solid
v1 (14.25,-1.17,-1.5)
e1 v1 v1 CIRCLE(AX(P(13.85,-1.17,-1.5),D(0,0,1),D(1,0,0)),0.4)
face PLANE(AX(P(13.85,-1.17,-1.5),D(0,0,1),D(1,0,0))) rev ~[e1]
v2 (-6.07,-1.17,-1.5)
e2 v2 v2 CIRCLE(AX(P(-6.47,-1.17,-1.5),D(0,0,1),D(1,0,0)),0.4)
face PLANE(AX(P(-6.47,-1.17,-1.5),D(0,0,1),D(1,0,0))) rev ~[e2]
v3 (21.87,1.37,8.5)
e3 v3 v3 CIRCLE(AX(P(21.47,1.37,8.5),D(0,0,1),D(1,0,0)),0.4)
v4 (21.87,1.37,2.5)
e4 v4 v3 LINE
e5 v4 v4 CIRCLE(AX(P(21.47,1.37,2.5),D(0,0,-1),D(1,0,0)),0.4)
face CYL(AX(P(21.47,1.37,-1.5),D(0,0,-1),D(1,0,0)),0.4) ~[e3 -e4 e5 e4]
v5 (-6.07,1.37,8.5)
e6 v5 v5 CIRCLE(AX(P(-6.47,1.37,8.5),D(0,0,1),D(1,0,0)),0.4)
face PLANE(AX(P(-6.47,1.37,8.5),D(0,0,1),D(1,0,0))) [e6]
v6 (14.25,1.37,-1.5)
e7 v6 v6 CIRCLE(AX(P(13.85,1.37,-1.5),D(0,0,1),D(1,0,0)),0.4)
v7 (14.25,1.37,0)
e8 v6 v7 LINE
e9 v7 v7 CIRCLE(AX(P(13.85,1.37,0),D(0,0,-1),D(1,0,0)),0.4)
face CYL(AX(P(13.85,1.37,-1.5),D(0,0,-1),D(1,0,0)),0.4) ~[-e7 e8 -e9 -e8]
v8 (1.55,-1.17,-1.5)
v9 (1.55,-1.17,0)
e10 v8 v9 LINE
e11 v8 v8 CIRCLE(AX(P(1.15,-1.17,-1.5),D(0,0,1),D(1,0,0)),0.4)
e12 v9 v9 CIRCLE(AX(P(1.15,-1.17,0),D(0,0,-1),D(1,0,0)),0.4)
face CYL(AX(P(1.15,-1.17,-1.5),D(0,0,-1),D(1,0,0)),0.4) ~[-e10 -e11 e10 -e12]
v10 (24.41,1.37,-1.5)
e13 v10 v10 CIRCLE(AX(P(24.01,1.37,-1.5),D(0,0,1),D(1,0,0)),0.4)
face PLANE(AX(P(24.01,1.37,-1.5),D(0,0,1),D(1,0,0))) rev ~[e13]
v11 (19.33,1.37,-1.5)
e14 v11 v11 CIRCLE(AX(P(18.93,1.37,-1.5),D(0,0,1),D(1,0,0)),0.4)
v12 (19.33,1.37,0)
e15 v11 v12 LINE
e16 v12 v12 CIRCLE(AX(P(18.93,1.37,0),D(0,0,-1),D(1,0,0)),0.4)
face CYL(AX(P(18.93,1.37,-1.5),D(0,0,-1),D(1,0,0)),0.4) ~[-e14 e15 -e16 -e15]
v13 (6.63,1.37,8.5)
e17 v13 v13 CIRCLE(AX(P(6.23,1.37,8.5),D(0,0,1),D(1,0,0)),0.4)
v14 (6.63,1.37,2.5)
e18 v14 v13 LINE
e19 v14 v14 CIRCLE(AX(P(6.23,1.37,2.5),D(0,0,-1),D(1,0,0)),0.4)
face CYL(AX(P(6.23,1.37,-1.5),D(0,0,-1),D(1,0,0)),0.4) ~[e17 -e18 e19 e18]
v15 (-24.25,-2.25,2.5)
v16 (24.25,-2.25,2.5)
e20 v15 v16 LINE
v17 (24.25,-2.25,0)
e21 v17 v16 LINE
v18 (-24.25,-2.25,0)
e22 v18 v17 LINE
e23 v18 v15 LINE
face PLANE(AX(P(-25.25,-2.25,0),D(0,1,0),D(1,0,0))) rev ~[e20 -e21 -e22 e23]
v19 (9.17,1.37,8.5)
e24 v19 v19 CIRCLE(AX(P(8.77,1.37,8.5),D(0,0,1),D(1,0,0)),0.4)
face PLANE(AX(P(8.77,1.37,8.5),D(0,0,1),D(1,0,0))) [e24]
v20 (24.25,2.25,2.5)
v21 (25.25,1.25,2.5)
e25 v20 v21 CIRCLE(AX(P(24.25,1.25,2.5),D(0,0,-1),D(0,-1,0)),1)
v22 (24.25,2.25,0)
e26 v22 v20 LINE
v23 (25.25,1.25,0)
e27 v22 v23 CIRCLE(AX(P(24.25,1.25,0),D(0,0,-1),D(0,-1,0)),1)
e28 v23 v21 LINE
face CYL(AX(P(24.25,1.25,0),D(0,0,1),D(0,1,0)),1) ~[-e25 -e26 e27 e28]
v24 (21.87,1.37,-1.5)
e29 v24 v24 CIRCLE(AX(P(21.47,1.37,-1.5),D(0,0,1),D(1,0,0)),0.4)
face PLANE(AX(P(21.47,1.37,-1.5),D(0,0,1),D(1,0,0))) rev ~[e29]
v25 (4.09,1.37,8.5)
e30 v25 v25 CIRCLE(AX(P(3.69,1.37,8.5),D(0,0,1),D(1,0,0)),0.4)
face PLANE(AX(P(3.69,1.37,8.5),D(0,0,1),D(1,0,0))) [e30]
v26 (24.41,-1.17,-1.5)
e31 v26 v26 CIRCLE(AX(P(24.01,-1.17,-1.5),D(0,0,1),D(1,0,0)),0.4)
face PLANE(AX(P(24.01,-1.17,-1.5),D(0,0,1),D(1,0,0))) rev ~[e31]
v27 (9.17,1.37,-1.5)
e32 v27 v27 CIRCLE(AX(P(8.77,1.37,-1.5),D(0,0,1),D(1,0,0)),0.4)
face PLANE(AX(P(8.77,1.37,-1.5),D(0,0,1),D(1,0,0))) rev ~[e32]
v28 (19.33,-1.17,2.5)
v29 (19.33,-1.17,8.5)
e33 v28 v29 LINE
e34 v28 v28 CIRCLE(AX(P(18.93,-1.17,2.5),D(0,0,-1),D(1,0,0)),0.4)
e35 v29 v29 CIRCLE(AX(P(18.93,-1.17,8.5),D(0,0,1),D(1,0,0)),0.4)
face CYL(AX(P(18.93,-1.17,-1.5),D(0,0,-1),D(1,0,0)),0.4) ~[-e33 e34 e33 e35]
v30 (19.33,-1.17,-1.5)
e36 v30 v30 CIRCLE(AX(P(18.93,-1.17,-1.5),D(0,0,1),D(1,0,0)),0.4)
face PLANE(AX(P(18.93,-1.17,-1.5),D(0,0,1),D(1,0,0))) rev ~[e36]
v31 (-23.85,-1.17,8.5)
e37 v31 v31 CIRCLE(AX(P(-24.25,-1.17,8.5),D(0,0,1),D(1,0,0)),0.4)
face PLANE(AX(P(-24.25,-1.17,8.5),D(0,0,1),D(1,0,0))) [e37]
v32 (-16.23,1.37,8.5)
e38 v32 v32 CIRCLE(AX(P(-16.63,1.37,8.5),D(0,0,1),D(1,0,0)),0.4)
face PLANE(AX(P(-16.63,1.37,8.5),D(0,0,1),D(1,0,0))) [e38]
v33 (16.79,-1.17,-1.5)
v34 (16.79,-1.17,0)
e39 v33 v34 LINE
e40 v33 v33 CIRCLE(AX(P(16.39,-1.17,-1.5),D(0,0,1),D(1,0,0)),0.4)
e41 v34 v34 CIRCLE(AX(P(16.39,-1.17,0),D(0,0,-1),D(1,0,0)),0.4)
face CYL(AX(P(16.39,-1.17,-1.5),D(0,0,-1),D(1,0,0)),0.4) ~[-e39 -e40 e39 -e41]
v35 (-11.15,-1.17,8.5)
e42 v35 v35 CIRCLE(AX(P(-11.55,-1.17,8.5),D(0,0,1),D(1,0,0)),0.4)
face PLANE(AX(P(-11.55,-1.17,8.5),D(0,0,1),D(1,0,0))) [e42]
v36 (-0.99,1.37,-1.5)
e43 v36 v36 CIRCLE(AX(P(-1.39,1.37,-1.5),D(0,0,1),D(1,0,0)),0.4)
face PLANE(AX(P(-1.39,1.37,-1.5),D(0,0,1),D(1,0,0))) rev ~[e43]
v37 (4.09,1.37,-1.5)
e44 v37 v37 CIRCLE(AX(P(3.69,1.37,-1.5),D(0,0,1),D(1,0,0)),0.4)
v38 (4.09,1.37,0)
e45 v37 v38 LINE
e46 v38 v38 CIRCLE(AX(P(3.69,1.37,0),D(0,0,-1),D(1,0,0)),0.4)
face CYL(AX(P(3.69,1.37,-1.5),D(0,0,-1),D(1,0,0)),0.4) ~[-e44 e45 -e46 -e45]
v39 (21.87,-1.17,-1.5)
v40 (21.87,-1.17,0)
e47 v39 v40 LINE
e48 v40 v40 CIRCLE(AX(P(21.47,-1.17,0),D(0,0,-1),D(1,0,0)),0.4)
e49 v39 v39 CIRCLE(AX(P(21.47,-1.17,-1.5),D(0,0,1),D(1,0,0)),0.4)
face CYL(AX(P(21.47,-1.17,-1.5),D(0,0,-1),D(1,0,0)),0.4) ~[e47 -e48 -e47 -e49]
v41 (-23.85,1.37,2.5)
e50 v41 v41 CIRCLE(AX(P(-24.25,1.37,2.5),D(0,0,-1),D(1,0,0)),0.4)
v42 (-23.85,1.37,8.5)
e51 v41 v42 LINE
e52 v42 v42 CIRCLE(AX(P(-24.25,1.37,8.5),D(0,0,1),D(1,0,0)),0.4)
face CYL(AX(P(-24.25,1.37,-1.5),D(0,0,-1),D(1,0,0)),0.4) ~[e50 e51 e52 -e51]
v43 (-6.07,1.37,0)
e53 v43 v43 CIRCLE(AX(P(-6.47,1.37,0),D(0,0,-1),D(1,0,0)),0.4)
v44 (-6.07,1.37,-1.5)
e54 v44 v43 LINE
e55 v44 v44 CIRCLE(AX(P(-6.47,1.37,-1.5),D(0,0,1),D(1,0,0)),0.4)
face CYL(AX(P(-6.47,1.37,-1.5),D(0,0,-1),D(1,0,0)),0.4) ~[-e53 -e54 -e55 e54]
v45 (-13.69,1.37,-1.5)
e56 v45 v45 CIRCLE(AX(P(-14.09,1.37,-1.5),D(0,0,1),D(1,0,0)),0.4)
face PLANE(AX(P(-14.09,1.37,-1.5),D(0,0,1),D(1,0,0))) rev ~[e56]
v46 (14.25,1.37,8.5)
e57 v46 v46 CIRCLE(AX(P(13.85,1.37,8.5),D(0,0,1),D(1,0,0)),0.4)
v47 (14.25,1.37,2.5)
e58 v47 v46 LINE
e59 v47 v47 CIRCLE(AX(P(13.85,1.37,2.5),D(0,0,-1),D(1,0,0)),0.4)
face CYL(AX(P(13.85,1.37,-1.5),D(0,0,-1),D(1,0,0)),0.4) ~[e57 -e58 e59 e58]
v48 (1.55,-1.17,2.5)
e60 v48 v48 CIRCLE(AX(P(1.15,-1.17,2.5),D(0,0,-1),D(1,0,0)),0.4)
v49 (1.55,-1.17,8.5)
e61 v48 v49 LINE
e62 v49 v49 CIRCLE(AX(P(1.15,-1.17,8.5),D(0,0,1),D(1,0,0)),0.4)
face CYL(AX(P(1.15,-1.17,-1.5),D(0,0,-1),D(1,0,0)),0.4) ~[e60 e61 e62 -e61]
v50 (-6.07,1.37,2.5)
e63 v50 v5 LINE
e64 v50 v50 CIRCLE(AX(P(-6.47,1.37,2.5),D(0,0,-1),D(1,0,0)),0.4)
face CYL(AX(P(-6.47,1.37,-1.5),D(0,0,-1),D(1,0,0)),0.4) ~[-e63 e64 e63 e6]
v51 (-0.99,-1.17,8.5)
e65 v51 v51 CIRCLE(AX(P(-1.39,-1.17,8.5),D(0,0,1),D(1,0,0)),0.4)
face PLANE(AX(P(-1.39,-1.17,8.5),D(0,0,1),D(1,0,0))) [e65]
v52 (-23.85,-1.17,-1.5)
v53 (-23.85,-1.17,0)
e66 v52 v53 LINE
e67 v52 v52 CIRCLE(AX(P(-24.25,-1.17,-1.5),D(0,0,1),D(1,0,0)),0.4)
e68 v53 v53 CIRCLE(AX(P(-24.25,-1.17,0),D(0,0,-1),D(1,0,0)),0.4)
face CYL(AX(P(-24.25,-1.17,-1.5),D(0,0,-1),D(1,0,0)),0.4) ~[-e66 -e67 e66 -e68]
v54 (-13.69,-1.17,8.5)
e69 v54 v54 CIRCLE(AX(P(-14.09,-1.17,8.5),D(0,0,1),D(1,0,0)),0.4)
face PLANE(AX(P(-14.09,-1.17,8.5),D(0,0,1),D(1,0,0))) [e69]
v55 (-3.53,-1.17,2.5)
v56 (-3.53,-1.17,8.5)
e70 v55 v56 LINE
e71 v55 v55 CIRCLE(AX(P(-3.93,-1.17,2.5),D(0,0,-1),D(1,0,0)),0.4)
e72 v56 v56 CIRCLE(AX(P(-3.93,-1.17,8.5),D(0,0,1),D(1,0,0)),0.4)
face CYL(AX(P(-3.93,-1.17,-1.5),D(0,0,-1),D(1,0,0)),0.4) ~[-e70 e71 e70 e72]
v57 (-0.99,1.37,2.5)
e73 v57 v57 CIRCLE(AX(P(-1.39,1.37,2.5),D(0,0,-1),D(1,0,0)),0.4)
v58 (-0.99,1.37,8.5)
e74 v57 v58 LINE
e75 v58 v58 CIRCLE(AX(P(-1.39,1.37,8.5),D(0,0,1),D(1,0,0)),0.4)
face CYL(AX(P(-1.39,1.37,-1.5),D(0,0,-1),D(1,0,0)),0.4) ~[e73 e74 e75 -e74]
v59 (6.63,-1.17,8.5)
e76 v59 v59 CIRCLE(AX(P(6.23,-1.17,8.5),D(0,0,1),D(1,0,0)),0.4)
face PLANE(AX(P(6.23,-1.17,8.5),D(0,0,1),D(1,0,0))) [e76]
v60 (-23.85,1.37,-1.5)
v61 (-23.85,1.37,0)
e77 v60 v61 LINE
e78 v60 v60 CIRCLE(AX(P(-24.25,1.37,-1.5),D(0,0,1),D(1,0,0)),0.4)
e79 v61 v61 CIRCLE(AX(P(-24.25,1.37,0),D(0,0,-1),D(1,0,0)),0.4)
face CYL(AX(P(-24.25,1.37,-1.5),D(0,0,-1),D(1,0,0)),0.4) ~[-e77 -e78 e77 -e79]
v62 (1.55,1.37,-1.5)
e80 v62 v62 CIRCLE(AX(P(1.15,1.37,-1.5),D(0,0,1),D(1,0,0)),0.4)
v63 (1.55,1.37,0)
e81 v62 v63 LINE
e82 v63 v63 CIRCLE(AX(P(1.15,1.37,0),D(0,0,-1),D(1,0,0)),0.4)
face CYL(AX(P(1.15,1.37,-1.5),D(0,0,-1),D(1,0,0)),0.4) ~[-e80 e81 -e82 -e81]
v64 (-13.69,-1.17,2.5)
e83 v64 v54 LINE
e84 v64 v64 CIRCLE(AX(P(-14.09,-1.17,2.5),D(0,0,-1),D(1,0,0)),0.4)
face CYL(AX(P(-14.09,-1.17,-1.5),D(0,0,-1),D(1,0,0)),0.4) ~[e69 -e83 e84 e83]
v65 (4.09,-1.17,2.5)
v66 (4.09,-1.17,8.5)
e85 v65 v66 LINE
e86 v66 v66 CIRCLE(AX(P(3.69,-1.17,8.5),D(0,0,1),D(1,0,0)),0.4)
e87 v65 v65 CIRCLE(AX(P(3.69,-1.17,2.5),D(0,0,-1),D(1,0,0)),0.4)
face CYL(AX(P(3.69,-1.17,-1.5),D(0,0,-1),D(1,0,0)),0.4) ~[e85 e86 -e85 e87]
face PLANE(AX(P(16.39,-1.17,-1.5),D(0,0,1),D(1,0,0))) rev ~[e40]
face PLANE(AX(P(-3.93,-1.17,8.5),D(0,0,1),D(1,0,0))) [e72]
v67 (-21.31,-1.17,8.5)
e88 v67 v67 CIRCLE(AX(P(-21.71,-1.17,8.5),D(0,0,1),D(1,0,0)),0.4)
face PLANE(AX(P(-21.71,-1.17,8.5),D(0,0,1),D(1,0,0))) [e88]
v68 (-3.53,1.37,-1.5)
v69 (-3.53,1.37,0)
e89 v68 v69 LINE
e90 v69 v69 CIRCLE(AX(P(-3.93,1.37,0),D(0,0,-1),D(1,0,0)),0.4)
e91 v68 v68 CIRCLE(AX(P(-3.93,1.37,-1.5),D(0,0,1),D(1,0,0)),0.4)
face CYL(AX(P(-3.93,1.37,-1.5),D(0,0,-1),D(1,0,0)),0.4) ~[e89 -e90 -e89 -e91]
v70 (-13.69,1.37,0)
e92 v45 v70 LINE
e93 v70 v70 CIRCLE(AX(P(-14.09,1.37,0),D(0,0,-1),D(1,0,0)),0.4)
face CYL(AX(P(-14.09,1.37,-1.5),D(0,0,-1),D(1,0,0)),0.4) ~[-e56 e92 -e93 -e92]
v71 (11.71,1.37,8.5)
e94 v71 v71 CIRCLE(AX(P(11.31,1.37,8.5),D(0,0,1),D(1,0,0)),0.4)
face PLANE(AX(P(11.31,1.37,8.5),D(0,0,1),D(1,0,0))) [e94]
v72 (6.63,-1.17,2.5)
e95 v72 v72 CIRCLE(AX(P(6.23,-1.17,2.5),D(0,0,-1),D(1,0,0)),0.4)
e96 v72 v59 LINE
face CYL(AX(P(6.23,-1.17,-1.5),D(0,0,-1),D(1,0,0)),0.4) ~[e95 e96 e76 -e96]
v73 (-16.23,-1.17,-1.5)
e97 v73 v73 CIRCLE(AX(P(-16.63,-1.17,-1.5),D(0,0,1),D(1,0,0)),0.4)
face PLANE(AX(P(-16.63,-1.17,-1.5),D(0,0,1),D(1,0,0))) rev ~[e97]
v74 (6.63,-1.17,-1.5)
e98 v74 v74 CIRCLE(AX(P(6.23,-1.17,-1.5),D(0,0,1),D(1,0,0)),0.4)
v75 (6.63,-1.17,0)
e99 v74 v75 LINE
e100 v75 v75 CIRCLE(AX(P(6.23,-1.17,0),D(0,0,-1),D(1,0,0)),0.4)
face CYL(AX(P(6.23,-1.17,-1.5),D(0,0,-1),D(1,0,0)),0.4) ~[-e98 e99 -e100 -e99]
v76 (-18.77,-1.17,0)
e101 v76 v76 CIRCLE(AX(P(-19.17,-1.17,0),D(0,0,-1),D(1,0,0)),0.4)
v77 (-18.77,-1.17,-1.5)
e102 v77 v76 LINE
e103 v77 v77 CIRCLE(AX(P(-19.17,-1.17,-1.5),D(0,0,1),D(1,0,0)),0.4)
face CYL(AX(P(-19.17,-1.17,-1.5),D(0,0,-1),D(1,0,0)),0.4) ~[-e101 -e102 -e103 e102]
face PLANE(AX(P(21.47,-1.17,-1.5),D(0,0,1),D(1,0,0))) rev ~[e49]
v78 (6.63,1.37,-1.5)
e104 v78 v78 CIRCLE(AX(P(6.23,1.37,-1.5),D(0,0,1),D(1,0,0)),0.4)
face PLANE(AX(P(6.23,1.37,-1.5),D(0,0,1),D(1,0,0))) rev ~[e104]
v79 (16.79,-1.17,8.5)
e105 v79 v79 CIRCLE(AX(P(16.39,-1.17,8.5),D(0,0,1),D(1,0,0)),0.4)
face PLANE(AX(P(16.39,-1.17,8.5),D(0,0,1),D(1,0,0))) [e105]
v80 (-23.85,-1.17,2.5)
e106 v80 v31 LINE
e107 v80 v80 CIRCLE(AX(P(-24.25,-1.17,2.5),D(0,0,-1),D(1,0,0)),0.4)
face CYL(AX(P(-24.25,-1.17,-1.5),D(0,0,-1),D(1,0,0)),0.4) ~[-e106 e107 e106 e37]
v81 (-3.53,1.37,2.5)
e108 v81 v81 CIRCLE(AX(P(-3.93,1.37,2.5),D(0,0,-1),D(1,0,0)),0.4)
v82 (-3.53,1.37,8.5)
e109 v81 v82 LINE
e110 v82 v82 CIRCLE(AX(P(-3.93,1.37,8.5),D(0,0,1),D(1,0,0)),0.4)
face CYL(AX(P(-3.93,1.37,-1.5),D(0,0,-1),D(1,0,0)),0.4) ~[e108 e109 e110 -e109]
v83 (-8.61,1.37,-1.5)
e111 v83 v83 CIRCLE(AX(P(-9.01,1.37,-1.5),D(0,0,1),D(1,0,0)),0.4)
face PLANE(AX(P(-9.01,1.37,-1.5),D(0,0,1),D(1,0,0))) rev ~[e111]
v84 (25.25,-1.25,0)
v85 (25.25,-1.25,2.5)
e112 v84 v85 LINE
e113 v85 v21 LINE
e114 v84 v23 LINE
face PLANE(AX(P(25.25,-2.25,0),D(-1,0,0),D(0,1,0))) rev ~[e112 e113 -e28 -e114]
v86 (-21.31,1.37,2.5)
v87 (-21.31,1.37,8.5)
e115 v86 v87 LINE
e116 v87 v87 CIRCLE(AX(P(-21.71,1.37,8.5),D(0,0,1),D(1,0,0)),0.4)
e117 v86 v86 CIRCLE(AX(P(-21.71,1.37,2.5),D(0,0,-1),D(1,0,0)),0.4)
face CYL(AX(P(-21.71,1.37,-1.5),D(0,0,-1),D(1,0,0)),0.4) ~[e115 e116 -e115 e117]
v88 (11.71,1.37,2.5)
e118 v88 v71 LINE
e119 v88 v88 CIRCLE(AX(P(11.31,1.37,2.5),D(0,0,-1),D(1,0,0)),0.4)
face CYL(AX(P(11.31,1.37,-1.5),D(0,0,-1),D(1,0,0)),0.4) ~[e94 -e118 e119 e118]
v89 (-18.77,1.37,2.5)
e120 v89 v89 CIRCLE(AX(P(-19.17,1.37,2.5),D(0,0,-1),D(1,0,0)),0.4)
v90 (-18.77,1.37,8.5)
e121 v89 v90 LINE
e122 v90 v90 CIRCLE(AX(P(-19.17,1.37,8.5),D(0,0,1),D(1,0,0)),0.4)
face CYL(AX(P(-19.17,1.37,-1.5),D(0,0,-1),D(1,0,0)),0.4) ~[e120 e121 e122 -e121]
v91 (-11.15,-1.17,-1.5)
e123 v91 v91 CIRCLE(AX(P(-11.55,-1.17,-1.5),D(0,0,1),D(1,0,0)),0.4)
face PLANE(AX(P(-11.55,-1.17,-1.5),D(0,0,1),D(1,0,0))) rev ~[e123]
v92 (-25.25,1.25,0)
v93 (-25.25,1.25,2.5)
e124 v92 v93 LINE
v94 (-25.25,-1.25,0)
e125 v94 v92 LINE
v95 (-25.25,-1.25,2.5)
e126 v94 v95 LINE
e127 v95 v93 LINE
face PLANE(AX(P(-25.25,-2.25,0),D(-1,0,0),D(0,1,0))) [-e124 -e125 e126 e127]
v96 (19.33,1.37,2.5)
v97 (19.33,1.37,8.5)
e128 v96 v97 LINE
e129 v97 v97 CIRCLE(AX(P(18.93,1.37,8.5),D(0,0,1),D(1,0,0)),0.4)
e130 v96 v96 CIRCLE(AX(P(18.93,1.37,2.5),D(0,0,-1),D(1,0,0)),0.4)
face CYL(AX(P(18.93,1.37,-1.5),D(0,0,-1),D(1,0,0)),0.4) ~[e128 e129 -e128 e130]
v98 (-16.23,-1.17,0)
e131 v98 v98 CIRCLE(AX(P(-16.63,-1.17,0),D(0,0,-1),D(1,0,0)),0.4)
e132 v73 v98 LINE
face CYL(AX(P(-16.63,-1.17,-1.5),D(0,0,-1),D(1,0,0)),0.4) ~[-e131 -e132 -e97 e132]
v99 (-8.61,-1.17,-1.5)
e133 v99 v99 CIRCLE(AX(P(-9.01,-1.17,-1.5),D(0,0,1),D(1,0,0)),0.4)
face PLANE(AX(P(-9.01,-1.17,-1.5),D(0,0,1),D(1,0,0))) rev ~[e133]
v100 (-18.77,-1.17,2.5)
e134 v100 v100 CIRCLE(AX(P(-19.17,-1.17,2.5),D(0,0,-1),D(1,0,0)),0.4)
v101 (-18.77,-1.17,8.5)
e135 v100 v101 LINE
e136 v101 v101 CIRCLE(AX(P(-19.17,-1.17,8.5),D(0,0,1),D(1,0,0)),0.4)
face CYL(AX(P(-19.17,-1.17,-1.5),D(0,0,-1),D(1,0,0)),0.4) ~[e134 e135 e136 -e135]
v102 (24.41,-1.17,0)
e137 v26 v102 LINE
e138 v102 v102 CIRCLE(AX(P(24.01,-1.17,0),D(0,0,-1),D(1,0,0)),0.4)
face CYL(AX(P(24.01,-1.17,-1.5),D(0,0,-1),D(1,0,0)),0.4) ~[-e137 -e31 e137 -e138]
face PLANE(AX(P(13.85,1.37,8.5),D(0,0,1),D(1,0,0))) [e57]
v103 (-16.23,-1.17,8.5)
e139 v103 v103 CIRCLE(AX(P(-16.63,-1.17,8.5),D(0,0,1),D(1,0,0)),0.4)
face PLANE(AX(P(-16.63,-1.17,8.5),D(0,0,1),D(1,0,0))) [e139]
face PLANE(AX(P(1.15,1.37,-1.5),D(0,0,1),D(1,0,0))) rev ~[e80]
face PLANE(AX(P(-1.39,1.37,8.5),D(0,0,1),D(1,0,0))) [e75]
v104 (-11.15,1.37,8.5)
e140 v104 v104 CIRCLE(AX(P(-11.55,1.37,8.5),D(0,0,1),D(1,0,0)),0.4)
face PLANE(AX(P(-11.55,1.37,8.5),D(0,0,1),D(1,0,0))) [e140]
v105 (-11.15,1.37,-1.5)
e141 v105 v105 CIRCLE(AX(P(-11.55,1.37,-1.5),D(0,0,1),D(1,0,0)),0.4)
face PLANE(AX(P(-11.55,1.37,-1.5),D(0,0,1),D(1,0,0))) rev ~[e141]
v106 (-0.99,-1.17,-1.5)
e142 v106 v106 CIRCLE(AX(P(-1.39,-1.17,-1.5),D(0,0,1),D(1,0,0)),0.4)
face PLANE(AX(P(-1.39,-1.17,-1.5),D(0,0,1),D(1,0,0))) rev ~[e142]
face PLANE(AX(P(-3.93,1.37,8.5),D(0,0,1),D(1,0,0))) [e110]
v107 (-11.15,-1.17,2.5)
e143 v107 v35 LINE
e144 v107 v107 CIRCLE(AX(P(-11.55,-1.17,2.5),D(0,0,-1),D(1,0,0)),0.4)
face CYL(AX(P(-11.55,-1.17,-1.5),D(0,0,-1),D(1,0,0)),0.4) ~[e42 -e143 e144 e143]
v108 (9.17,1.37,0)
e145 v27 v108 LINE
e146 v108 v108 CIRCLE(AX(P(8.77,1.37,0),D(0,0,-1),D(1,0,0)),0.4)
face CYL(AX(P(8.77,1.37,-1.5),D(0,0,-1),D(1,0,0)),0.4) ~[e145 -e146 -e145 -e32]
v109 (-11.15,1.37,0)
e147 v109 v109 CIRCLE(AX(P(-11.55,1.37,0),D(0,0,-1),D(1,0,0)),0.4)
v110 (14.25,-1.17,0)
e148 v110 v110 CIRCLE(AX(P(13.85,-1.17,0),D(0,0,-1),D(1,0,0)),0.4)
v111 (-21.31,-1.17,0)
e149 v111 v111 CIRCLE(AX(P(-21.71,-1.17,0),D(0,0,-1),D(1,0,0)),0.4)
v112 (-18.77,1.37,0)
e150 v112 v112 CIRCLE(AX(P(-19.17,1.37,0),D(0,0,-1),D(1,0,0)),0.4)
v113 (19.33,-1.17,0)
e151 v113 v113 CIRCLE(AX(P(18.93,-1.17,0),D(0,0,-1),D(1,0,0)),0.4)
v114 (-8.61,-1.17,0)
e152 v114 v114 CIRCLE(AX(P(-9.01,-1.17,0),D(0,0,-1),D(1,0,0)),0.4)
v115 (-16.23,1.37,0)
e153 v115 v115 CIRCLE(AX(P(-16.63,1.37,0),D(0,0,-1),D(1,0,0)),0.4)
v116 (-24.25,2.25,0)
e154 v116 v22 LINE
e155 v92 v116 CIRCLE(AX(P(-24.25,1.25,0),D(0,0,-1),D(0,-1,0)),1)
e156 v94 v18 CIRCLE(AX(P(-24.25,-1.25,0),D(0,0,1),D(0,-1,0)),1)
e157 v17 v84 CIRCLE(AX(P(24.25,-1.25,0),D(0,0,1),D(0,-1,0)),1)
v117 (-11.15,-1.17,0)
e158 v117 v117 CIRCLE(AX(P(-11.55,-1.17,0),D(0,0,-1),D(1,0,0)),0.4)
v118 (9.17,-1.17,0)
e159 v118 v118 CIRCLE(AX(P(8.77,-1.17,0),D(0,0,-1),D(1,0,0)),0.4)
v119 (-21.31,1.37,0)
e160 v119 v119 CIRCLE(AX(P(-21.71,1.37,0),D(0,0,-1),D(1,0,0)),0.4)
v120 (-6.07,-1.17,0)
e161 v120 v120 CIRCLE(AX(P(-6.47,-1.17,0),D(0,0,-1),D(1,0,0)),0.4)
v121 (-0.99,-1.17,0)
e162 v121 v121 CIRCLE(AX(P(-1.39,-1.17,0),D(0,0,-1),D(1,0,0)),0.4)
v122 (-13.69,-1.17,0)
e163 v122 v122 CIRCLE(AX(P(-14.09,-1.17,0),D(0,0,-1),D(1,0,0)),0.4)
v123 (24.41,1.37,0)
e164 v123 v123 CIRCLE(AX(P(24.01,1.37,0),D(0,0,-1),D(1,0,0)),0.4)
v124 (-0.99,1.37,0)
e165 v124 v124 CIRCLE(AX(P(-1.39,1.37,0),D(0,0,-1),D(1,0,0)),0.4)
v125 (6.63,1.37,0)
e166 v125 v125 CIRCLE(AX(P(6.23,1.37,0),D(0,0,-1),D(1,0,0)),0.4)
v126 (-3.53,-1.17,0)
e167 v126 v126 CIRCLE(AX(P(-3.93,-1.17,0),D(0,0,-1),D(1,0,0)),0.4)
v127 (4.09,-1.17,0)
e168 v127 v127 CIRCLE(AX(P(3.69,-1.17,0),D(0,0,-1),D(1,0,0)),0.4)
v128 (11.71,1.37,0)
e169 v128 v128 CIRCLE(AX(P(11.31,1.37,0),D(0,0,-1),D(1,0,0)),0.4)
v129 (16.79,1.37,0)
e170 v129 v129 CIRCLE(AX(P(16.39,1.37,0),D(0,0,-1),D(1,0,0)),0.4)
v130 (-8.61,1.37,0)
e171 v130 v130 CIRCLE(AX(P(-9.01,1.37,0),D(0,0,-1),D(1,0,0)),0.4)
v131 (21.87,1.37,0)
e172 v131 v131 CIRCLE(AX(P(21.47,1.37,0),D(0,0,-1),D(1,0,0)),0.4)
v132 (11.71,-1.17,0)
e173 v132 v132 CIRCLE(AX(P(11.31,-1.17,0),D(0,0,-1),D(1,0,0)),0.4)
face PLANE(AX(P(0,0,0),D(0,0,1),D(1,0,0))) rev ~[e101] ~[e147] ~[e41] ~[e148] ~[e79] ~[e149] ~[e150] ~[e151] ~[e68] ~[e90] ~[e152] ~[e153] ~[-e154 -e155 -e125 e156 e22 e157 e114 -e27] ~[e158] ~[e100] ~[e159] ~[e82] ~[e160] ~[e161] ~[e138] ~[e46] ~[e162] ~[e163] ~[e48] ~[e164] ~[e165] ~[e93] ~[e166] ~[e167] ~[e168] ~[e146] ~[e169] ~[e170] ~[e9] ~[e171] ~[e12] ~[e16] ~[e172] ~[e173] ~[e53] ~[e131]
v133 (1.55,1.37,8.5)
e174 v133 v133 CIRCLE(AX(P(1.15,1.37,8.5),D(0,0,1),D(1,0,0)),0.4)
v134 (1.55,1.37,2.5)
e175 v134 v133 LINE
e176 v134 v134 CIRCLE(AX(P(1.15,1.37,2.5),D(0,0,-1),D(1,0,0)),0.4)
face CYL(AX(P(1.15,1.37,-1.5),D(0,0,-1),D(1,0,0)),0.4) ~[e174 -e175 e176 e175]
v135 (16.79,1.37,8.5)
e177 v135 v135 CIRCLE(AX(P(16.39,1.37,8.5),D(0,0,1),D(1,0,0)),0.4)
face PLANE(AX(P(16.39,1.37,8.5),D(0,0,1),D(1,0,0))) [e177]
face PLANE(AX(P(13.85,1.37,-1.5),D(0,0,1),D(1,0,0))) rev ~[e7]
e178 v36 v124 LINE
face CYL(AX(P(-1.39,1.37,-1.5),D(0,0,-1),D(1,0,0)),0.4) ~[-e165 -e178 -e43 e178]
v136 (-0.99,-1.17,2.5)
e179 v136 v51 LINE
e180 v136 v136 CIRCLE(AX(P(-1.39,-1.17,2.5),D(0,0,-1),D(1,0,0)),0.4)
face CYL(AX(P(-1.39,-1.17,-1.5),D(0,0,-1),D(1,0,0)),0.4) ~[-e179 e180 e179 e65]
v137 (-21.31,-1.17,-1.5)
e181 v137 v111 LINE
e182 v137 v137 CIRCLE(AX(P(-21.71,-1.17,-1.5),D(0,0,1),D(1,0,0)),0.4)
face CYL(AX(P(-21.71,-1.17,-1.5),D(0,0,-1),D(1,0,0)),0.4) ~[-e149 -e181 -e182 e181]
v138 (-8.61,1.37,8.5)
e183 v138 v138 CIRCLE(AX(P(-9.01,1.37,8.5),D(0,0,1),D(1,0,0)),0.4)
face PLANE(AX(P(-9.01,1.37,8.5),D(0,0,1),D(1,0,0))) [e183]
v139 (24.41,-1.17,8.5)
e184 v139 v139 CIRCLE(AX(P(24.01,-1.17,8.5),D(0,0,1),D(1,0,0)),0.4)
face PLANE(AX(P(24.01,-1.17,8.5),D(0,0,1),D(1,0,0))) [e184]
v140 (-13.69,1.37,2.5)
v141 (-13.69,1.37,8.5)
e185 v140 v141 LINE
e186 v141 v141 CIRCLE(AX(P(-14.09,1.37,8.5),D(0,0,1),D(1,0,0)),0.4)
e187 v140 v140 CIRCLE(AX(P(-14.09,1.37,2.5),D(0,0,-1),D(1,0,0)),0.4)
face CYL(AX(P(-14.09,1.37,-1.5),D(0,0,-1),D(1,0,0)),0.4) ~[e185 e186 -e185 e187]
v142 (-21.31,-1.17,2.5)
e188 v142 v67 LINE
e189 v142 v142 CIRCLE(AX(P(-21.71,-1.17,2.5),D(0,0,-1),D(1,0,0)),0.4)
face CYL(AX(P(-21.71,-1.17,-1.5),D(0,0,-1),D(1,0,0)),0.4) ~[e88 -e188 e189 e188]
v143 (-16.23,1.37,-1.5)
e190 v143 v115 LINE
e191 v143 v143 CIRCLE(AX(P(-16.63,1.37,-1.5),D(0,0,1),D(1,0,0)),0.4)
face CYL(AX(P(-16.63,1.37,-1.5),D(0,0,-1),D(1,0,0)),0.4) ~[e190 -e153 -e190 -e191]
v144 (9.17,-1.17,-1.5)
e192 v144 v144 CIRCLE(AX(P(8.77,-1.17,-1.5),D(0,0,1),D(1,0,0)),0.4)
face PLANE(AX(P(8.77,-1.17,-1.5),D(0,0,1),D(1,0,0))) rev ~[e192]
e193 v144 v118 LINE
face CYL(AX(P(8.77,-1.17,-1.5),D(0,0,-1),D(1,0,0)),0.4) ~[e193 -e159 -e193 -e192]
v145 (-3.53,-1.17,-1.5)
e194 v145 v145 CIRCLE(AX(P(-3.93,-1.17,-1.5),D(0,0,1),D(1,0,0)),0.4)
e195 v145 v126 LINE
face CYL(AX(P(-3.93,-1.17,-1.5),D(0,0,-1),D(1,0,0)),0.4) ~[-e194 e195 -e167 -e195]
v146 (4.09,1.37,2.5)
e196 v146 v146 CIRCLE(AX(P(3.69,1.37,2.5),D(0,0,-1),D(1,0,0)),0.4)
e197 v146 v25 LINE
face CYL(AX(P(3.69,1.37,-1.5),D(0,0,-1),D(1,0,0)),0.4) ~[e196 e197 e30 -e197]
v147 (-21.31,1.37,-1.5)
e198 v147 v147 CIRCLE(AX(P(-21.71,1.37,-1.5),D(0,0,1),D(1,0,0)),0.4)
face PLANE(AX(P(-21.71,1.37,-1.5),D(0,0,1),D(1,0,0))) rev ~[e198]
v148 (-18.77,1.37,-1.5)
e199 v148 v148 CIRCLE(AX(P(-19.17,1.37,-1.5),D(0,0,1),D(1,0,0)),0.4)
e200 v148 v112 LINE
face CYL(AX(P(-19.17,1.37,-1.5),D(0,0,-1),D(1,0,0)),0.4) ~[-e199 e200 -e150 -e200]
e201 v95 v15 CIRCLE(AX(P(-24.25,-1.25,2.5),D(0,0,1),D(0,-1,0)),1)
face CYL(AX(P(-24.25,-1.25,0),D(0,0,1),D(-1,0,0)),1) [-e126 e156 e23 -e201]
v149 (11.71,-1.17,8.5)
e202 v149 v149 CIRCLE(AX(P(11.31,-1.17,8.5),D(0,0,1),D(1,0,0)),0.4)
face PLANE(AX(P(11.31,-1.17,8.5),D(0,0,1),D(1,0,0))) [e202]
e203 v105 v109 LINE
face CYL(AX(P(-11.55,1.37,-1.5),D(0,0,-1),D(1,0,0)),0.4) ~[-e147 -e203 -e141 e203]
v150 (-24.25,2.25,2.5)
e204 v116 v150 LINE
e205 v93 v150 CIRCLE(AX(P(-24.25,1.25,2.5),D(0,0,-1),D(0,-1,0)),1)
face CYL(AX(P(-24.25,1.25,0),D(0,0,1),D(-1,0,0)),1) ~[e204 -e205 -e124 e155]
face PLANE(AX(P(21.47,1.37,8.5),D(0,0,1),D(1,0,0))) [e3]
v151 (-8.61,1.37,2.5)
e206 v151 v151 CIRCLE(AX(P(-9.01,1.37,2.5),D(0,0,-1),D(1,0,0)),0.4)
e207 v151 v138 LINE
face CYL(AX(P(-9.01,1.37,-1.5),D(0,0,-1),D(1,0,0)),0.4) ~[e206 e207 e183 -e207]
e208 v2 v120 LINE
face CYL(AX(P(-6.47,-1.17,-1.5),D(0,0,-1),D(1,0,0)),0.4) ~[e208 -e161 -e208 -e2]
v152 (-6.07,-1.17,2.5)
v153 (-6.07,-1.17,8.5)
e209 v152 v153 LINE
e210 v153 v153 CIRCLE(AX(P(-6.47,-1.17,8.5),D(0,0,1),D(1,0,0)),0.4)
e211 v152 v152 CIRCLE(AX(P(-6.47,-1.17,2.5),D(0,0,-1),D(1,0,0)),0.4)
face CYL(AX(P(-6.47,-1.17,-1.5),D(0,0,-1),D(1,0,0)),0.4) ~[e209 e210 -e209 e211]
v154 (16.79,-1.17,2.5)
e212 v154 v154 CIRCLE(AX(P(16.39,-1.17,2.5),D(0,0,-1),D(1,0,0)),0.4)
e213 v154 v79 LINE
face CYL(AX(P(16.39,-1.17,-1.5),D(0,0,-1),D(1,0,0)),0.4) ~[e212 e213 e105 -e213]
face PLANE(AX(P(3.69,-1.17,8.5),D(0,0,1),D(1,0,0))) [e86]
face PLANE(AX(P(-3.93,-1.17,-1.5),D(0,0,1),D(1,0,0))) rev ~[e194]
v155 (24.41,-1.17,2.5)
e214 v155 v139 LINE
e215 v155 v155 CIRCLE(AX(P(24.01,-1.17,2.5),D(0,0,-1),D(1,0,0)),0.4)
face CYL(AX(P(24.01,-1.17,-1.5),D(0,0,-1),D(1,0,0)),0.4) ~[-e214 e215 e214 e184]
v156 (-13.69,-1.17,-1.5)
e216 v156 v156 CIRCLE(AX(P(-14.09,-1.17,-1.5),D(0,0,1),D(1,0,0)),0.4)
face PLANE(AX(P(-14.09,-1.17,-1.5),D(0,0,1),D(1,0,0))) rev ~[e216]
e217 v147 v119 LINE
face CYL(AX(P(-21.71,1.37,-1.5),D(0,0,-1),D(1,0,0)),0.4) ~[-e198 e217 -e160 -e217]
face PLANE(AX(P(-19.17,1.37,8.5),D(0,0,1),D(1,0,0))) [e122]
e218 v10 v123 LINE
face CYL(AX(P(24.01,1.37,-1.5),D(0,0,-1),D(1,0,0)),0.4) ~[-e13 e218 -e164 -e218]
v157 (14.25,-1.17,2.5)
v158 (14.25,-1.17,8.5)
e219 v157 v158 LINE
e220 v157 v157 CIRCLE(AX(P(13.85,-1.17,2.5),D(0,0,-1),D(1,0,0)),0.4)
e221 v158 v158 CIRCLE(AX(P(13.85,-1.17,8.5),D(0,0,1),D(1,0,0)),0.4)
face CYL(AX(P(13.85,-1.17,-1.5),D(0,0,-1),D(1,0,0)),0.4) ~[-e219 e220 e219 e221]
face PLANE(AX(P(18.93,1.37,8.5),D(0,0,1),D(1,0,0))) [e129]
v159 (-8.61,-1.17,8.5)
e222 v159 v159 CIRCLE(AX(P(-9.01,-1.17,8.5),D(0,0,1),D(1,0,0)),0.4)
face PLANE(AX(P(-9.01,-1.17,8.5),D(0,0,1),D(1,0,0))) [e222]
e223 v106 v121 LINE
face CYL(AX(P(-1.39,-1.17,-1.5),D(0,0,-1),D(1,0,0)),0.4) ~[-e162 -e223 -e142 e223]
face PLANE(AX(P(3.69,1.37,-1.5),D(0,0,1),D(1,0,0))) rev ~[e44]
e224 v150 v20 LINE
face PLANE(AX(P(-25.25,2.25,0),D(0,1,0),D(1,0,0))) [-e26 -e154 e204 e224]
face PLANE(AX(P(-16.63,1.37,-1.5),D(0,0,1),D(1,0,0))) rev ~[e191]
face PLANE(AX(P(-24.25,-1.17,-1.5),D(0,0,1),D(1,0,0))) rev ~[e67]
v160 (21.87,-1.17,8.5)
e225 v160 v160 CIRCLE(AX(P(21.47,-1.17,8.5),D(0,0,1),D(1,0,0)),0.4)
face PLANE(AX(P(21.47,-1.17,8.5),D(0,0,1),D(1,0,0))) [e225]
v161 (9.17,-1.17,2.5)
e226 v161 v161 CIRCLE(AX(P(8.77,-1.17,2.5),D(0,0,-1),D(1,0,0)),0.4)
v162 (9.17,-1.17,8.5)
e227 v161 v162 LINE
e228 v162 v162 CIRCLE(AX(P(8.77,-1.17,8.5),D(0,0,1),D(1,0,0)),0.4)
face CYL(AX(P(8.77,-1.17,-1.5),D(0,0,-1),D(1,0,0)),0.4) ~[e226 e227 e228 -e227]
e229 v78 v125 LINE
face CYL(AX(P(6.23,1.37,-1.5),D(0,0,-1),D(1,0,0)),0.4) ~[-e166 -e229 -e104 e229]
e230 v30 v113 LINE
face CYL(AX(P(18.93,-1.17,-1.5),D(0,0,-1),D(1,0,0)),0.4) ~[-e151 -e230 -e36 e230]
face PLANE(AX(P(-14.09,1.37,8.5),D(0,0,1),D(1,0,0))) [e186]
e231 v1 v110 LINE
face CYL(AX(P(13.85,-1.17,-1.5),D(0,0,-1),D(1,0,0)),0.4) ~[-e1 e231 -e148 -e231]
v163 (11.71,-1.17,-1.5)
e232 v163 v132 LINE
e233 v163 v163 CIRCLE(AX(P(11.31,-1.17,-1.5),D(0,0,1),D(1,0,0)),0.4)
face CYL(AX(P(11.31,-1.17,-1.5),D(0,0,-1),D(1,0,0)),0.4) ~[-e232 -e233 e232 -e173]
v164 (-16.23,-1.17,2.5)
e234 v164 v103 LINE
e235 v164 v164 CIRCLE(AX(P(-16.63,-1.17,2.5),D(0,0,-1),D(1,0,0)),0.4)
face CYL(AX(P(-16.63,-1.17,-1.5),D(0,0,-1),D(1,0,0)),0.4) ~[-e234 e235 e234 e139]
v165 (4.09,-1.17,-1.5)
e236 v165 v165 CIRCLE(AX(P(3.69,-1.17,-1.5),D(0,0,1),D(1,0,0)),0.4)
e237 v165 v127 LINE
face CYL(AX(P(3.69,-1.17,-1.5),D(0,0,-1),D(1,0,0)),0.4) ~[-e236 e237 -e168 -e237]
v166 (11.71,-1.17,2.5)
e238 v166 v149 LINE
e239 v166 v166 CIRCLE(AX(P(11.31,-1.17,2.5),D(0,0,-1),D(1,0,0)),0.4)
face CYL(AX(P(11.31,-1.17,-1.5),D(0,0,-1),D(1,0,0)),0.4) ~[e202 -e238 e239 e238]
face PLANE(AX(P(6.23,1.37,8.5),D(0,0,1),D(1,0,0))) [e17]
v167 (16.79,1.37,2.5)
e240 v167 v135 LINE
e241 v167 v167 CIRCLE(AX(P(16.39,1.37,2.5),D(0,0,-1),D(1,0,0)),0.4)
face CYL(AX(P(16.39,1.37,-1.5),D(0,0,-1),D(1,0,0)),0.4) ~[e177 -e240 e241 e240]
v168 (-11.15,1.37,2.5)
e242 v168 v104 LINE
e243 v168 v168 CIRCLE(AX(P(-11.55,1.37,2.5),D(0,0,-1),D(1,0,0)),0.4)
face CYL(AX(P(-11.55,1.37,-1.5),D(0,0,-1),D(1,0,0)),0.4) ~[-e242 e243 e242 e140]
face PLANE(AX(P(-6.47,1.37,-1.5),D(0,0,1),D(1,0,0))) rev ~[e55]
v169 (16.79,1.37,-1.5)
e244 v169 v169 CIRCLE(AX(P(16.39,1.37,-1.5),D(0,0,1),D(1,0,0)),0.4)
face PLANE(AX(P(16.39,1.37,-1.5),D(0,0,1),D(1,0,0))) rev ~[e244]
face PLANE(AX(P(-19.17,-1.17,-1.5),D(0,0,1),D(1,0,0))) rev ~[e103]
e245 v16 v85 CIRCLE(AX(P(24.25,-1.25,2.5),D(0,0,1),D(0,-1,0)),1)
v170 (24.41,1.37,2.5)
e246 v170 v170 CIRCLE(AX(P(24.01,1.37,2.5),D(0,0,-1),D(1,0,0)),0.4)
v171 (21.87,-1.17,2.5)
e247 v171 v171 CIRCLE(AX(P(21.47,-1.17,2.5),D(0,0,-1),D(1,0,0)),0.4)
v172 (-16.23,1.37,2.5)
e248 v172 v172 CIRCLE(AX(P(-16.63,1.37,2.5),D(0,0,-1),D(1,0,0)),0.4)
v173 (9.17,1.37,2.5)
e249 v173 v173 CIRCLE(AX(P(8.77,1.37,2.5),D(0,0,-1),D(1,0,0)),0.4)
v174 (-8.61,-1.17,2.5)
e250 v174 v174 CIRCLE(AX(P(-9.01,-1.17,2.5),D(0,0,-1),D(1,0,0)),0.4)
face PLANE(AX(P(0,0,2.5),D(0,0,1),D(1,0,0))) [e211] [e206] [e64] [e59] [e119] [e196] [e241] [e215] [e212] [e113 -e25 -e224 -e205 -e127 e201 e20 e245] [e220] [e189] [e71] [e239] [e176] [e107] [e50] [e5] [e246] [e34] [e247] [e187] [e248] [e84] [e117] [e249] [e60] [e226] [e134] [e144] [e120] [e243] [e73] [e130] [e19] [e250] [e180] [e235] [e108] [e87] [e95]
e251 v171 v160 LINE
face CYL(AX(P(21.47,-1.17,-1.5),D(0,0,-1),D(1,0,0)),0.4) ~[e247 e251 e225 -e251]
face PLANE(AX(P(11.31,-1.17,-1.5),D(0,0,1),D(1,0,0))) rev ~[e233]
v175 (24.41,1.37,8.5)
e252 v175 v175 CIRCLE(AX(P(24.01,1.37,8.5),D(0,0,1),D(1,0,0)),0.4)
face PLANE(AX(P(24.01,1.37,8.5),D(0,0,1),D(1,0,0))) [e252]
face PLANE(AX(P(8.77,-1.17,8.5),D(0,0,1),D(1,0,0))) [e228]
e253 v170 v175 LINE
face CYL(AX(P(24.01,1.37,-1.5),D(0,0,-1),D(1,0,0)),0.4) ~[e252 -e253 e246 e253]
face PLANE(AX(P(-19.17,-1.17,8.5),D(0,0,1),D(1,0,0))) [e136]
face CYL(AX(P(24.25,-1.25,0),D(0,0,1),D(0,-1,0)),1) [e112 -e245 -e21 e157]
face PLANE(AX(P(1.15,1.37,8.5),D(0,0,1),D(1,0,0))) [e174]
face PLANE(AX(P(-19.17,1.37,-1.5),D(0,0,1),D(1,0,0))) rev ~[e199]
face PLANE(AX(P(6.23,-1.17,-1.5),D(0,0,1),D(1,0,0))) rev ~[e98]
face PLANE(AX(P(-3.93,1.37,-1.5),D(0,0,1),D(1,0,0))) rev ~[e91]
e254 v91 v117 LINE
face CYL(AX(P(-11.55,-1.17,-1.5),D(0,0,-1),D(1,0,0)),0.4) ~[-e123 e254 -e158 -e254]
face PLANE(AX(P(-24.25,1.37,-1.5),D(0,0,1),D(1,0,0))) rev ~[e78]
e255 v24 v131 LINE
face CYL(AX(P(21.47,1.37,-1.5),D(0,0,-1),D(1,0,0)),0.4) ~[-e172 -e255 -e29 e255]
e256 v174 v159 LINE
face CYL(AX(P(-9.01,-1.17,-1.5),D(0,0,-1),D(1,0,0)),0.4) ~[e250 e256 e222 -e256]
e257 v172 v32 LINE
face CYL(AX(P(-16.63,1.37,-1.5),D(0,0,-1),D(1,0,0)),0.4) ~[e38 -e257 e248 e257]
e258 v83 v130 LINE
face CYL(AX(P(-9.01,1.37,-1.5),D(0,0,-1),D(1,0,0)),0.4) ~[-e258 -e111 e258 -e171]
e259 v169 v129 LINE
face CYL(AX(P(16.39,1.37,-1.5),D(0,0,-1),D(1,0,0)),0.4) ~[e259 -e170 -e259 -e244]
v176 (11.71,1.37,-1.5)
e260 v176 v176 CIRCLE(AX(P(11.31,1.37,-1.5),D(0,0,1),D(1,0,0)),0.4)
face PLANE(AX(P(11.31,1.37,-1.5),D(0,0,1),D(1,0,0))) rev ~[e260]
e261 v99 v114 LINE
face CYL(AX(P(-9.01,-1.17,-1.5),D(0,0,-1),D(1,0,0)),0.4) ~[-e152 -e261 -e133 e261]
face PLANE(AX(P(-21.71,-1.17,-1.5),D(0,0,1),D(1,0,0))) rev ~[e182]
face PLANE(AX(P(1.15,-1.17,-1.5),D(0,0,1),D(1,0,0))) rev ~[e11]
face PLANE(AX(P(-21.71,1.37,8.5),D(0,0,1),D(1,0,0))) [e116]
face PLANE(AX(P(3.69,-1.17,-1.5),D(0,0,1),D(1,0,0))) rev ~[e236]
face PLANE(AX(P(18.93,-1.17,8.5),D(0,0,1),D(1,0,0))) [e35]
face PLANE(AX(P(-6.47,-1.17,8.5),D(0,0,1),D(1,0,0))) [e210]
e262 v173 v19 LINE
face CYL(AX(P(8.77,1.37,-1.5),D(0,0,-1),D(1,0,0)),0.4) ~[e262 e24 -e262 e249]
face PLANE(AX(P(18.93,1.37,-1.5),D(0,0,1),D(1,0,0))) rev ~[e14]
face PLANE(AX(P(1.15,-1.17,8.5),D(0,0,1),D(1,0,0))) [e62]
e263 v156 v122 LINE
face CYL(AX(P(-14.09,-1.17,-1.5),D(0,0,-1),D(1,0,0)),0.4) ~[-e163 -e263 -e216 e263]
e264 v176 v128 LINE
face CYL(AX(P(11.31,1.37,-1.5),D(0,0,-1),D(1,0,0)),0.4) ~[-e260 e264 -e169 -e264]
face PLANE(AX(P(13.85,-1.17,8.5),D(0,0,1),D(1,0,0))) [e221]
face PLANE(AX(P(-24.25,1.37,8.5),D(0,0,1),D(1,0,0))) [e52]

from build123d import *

# Parameters (mm, degrees)
SKETCH_1_W             = 50.5
SKETCH_1_H             = 4.5
EXTRUDE_1_DEPTH        = 2.5
EXTRUDE_START          = -4
SKETCH_2_R             = 0.4
EXTRUDE_2_DEPTH        = 10
PATTERN_LINEAR_2_COUNT = 20
PATTERN_LINEAR_2_PITCH = 2.54
FILLET_1_R             = 1


with BuildPart() as part:
    # ｽｹｯﾁ1 → ﾎﾞｽ - 押し出し1 (new body)
    with BuildSketch(Plane.XY):
        Rectangle(SKETCH_1_W, SKETCH_1_H)
    extrude(amount=EXTRUDE_1_DEPTH)

    # ｽｹｯﾁ2 → ﾎﾞｽ - 押し出し2 (add)
    with BuildSketch(Plane.XY.offset(2.5).offset(EXTRUDE_START)):
        with Locations((-24.25, 1.37)):
            Circle(SKETCH_2_R)
        with Locations((-24.25, -1.17)):
            Circle(SKETCH_2_R)
    extrude_2 = extrude(amount=EXTRUDE_2_DEPTH)

    # 直線ﾊﾟﾀｰﾝ2: ﾎﾞｽ - 押し出し2 ×20
    with Locations(*[(i * PATTERN_LINEAR_2_PITCH, 0, 0) for i in range(1, PATTERN_LINEAR_2_COUNT)]):
        add(extrude_2)

    # ﾌｨﾚｯﾄ1
    fillet_1_edges = [part.edges().sort_by_distance(p)[0] for p in [
        (25.25, -2.25, 1.25),
        (-25.25, -2.25, 1.25),
        (-25.25, 2.25, 1.25),
        (25.25, 2.25, 1.25),
    ]]
    fillet(fillet_1_edges, radius=FILLET_1_R)


solid = part.part
